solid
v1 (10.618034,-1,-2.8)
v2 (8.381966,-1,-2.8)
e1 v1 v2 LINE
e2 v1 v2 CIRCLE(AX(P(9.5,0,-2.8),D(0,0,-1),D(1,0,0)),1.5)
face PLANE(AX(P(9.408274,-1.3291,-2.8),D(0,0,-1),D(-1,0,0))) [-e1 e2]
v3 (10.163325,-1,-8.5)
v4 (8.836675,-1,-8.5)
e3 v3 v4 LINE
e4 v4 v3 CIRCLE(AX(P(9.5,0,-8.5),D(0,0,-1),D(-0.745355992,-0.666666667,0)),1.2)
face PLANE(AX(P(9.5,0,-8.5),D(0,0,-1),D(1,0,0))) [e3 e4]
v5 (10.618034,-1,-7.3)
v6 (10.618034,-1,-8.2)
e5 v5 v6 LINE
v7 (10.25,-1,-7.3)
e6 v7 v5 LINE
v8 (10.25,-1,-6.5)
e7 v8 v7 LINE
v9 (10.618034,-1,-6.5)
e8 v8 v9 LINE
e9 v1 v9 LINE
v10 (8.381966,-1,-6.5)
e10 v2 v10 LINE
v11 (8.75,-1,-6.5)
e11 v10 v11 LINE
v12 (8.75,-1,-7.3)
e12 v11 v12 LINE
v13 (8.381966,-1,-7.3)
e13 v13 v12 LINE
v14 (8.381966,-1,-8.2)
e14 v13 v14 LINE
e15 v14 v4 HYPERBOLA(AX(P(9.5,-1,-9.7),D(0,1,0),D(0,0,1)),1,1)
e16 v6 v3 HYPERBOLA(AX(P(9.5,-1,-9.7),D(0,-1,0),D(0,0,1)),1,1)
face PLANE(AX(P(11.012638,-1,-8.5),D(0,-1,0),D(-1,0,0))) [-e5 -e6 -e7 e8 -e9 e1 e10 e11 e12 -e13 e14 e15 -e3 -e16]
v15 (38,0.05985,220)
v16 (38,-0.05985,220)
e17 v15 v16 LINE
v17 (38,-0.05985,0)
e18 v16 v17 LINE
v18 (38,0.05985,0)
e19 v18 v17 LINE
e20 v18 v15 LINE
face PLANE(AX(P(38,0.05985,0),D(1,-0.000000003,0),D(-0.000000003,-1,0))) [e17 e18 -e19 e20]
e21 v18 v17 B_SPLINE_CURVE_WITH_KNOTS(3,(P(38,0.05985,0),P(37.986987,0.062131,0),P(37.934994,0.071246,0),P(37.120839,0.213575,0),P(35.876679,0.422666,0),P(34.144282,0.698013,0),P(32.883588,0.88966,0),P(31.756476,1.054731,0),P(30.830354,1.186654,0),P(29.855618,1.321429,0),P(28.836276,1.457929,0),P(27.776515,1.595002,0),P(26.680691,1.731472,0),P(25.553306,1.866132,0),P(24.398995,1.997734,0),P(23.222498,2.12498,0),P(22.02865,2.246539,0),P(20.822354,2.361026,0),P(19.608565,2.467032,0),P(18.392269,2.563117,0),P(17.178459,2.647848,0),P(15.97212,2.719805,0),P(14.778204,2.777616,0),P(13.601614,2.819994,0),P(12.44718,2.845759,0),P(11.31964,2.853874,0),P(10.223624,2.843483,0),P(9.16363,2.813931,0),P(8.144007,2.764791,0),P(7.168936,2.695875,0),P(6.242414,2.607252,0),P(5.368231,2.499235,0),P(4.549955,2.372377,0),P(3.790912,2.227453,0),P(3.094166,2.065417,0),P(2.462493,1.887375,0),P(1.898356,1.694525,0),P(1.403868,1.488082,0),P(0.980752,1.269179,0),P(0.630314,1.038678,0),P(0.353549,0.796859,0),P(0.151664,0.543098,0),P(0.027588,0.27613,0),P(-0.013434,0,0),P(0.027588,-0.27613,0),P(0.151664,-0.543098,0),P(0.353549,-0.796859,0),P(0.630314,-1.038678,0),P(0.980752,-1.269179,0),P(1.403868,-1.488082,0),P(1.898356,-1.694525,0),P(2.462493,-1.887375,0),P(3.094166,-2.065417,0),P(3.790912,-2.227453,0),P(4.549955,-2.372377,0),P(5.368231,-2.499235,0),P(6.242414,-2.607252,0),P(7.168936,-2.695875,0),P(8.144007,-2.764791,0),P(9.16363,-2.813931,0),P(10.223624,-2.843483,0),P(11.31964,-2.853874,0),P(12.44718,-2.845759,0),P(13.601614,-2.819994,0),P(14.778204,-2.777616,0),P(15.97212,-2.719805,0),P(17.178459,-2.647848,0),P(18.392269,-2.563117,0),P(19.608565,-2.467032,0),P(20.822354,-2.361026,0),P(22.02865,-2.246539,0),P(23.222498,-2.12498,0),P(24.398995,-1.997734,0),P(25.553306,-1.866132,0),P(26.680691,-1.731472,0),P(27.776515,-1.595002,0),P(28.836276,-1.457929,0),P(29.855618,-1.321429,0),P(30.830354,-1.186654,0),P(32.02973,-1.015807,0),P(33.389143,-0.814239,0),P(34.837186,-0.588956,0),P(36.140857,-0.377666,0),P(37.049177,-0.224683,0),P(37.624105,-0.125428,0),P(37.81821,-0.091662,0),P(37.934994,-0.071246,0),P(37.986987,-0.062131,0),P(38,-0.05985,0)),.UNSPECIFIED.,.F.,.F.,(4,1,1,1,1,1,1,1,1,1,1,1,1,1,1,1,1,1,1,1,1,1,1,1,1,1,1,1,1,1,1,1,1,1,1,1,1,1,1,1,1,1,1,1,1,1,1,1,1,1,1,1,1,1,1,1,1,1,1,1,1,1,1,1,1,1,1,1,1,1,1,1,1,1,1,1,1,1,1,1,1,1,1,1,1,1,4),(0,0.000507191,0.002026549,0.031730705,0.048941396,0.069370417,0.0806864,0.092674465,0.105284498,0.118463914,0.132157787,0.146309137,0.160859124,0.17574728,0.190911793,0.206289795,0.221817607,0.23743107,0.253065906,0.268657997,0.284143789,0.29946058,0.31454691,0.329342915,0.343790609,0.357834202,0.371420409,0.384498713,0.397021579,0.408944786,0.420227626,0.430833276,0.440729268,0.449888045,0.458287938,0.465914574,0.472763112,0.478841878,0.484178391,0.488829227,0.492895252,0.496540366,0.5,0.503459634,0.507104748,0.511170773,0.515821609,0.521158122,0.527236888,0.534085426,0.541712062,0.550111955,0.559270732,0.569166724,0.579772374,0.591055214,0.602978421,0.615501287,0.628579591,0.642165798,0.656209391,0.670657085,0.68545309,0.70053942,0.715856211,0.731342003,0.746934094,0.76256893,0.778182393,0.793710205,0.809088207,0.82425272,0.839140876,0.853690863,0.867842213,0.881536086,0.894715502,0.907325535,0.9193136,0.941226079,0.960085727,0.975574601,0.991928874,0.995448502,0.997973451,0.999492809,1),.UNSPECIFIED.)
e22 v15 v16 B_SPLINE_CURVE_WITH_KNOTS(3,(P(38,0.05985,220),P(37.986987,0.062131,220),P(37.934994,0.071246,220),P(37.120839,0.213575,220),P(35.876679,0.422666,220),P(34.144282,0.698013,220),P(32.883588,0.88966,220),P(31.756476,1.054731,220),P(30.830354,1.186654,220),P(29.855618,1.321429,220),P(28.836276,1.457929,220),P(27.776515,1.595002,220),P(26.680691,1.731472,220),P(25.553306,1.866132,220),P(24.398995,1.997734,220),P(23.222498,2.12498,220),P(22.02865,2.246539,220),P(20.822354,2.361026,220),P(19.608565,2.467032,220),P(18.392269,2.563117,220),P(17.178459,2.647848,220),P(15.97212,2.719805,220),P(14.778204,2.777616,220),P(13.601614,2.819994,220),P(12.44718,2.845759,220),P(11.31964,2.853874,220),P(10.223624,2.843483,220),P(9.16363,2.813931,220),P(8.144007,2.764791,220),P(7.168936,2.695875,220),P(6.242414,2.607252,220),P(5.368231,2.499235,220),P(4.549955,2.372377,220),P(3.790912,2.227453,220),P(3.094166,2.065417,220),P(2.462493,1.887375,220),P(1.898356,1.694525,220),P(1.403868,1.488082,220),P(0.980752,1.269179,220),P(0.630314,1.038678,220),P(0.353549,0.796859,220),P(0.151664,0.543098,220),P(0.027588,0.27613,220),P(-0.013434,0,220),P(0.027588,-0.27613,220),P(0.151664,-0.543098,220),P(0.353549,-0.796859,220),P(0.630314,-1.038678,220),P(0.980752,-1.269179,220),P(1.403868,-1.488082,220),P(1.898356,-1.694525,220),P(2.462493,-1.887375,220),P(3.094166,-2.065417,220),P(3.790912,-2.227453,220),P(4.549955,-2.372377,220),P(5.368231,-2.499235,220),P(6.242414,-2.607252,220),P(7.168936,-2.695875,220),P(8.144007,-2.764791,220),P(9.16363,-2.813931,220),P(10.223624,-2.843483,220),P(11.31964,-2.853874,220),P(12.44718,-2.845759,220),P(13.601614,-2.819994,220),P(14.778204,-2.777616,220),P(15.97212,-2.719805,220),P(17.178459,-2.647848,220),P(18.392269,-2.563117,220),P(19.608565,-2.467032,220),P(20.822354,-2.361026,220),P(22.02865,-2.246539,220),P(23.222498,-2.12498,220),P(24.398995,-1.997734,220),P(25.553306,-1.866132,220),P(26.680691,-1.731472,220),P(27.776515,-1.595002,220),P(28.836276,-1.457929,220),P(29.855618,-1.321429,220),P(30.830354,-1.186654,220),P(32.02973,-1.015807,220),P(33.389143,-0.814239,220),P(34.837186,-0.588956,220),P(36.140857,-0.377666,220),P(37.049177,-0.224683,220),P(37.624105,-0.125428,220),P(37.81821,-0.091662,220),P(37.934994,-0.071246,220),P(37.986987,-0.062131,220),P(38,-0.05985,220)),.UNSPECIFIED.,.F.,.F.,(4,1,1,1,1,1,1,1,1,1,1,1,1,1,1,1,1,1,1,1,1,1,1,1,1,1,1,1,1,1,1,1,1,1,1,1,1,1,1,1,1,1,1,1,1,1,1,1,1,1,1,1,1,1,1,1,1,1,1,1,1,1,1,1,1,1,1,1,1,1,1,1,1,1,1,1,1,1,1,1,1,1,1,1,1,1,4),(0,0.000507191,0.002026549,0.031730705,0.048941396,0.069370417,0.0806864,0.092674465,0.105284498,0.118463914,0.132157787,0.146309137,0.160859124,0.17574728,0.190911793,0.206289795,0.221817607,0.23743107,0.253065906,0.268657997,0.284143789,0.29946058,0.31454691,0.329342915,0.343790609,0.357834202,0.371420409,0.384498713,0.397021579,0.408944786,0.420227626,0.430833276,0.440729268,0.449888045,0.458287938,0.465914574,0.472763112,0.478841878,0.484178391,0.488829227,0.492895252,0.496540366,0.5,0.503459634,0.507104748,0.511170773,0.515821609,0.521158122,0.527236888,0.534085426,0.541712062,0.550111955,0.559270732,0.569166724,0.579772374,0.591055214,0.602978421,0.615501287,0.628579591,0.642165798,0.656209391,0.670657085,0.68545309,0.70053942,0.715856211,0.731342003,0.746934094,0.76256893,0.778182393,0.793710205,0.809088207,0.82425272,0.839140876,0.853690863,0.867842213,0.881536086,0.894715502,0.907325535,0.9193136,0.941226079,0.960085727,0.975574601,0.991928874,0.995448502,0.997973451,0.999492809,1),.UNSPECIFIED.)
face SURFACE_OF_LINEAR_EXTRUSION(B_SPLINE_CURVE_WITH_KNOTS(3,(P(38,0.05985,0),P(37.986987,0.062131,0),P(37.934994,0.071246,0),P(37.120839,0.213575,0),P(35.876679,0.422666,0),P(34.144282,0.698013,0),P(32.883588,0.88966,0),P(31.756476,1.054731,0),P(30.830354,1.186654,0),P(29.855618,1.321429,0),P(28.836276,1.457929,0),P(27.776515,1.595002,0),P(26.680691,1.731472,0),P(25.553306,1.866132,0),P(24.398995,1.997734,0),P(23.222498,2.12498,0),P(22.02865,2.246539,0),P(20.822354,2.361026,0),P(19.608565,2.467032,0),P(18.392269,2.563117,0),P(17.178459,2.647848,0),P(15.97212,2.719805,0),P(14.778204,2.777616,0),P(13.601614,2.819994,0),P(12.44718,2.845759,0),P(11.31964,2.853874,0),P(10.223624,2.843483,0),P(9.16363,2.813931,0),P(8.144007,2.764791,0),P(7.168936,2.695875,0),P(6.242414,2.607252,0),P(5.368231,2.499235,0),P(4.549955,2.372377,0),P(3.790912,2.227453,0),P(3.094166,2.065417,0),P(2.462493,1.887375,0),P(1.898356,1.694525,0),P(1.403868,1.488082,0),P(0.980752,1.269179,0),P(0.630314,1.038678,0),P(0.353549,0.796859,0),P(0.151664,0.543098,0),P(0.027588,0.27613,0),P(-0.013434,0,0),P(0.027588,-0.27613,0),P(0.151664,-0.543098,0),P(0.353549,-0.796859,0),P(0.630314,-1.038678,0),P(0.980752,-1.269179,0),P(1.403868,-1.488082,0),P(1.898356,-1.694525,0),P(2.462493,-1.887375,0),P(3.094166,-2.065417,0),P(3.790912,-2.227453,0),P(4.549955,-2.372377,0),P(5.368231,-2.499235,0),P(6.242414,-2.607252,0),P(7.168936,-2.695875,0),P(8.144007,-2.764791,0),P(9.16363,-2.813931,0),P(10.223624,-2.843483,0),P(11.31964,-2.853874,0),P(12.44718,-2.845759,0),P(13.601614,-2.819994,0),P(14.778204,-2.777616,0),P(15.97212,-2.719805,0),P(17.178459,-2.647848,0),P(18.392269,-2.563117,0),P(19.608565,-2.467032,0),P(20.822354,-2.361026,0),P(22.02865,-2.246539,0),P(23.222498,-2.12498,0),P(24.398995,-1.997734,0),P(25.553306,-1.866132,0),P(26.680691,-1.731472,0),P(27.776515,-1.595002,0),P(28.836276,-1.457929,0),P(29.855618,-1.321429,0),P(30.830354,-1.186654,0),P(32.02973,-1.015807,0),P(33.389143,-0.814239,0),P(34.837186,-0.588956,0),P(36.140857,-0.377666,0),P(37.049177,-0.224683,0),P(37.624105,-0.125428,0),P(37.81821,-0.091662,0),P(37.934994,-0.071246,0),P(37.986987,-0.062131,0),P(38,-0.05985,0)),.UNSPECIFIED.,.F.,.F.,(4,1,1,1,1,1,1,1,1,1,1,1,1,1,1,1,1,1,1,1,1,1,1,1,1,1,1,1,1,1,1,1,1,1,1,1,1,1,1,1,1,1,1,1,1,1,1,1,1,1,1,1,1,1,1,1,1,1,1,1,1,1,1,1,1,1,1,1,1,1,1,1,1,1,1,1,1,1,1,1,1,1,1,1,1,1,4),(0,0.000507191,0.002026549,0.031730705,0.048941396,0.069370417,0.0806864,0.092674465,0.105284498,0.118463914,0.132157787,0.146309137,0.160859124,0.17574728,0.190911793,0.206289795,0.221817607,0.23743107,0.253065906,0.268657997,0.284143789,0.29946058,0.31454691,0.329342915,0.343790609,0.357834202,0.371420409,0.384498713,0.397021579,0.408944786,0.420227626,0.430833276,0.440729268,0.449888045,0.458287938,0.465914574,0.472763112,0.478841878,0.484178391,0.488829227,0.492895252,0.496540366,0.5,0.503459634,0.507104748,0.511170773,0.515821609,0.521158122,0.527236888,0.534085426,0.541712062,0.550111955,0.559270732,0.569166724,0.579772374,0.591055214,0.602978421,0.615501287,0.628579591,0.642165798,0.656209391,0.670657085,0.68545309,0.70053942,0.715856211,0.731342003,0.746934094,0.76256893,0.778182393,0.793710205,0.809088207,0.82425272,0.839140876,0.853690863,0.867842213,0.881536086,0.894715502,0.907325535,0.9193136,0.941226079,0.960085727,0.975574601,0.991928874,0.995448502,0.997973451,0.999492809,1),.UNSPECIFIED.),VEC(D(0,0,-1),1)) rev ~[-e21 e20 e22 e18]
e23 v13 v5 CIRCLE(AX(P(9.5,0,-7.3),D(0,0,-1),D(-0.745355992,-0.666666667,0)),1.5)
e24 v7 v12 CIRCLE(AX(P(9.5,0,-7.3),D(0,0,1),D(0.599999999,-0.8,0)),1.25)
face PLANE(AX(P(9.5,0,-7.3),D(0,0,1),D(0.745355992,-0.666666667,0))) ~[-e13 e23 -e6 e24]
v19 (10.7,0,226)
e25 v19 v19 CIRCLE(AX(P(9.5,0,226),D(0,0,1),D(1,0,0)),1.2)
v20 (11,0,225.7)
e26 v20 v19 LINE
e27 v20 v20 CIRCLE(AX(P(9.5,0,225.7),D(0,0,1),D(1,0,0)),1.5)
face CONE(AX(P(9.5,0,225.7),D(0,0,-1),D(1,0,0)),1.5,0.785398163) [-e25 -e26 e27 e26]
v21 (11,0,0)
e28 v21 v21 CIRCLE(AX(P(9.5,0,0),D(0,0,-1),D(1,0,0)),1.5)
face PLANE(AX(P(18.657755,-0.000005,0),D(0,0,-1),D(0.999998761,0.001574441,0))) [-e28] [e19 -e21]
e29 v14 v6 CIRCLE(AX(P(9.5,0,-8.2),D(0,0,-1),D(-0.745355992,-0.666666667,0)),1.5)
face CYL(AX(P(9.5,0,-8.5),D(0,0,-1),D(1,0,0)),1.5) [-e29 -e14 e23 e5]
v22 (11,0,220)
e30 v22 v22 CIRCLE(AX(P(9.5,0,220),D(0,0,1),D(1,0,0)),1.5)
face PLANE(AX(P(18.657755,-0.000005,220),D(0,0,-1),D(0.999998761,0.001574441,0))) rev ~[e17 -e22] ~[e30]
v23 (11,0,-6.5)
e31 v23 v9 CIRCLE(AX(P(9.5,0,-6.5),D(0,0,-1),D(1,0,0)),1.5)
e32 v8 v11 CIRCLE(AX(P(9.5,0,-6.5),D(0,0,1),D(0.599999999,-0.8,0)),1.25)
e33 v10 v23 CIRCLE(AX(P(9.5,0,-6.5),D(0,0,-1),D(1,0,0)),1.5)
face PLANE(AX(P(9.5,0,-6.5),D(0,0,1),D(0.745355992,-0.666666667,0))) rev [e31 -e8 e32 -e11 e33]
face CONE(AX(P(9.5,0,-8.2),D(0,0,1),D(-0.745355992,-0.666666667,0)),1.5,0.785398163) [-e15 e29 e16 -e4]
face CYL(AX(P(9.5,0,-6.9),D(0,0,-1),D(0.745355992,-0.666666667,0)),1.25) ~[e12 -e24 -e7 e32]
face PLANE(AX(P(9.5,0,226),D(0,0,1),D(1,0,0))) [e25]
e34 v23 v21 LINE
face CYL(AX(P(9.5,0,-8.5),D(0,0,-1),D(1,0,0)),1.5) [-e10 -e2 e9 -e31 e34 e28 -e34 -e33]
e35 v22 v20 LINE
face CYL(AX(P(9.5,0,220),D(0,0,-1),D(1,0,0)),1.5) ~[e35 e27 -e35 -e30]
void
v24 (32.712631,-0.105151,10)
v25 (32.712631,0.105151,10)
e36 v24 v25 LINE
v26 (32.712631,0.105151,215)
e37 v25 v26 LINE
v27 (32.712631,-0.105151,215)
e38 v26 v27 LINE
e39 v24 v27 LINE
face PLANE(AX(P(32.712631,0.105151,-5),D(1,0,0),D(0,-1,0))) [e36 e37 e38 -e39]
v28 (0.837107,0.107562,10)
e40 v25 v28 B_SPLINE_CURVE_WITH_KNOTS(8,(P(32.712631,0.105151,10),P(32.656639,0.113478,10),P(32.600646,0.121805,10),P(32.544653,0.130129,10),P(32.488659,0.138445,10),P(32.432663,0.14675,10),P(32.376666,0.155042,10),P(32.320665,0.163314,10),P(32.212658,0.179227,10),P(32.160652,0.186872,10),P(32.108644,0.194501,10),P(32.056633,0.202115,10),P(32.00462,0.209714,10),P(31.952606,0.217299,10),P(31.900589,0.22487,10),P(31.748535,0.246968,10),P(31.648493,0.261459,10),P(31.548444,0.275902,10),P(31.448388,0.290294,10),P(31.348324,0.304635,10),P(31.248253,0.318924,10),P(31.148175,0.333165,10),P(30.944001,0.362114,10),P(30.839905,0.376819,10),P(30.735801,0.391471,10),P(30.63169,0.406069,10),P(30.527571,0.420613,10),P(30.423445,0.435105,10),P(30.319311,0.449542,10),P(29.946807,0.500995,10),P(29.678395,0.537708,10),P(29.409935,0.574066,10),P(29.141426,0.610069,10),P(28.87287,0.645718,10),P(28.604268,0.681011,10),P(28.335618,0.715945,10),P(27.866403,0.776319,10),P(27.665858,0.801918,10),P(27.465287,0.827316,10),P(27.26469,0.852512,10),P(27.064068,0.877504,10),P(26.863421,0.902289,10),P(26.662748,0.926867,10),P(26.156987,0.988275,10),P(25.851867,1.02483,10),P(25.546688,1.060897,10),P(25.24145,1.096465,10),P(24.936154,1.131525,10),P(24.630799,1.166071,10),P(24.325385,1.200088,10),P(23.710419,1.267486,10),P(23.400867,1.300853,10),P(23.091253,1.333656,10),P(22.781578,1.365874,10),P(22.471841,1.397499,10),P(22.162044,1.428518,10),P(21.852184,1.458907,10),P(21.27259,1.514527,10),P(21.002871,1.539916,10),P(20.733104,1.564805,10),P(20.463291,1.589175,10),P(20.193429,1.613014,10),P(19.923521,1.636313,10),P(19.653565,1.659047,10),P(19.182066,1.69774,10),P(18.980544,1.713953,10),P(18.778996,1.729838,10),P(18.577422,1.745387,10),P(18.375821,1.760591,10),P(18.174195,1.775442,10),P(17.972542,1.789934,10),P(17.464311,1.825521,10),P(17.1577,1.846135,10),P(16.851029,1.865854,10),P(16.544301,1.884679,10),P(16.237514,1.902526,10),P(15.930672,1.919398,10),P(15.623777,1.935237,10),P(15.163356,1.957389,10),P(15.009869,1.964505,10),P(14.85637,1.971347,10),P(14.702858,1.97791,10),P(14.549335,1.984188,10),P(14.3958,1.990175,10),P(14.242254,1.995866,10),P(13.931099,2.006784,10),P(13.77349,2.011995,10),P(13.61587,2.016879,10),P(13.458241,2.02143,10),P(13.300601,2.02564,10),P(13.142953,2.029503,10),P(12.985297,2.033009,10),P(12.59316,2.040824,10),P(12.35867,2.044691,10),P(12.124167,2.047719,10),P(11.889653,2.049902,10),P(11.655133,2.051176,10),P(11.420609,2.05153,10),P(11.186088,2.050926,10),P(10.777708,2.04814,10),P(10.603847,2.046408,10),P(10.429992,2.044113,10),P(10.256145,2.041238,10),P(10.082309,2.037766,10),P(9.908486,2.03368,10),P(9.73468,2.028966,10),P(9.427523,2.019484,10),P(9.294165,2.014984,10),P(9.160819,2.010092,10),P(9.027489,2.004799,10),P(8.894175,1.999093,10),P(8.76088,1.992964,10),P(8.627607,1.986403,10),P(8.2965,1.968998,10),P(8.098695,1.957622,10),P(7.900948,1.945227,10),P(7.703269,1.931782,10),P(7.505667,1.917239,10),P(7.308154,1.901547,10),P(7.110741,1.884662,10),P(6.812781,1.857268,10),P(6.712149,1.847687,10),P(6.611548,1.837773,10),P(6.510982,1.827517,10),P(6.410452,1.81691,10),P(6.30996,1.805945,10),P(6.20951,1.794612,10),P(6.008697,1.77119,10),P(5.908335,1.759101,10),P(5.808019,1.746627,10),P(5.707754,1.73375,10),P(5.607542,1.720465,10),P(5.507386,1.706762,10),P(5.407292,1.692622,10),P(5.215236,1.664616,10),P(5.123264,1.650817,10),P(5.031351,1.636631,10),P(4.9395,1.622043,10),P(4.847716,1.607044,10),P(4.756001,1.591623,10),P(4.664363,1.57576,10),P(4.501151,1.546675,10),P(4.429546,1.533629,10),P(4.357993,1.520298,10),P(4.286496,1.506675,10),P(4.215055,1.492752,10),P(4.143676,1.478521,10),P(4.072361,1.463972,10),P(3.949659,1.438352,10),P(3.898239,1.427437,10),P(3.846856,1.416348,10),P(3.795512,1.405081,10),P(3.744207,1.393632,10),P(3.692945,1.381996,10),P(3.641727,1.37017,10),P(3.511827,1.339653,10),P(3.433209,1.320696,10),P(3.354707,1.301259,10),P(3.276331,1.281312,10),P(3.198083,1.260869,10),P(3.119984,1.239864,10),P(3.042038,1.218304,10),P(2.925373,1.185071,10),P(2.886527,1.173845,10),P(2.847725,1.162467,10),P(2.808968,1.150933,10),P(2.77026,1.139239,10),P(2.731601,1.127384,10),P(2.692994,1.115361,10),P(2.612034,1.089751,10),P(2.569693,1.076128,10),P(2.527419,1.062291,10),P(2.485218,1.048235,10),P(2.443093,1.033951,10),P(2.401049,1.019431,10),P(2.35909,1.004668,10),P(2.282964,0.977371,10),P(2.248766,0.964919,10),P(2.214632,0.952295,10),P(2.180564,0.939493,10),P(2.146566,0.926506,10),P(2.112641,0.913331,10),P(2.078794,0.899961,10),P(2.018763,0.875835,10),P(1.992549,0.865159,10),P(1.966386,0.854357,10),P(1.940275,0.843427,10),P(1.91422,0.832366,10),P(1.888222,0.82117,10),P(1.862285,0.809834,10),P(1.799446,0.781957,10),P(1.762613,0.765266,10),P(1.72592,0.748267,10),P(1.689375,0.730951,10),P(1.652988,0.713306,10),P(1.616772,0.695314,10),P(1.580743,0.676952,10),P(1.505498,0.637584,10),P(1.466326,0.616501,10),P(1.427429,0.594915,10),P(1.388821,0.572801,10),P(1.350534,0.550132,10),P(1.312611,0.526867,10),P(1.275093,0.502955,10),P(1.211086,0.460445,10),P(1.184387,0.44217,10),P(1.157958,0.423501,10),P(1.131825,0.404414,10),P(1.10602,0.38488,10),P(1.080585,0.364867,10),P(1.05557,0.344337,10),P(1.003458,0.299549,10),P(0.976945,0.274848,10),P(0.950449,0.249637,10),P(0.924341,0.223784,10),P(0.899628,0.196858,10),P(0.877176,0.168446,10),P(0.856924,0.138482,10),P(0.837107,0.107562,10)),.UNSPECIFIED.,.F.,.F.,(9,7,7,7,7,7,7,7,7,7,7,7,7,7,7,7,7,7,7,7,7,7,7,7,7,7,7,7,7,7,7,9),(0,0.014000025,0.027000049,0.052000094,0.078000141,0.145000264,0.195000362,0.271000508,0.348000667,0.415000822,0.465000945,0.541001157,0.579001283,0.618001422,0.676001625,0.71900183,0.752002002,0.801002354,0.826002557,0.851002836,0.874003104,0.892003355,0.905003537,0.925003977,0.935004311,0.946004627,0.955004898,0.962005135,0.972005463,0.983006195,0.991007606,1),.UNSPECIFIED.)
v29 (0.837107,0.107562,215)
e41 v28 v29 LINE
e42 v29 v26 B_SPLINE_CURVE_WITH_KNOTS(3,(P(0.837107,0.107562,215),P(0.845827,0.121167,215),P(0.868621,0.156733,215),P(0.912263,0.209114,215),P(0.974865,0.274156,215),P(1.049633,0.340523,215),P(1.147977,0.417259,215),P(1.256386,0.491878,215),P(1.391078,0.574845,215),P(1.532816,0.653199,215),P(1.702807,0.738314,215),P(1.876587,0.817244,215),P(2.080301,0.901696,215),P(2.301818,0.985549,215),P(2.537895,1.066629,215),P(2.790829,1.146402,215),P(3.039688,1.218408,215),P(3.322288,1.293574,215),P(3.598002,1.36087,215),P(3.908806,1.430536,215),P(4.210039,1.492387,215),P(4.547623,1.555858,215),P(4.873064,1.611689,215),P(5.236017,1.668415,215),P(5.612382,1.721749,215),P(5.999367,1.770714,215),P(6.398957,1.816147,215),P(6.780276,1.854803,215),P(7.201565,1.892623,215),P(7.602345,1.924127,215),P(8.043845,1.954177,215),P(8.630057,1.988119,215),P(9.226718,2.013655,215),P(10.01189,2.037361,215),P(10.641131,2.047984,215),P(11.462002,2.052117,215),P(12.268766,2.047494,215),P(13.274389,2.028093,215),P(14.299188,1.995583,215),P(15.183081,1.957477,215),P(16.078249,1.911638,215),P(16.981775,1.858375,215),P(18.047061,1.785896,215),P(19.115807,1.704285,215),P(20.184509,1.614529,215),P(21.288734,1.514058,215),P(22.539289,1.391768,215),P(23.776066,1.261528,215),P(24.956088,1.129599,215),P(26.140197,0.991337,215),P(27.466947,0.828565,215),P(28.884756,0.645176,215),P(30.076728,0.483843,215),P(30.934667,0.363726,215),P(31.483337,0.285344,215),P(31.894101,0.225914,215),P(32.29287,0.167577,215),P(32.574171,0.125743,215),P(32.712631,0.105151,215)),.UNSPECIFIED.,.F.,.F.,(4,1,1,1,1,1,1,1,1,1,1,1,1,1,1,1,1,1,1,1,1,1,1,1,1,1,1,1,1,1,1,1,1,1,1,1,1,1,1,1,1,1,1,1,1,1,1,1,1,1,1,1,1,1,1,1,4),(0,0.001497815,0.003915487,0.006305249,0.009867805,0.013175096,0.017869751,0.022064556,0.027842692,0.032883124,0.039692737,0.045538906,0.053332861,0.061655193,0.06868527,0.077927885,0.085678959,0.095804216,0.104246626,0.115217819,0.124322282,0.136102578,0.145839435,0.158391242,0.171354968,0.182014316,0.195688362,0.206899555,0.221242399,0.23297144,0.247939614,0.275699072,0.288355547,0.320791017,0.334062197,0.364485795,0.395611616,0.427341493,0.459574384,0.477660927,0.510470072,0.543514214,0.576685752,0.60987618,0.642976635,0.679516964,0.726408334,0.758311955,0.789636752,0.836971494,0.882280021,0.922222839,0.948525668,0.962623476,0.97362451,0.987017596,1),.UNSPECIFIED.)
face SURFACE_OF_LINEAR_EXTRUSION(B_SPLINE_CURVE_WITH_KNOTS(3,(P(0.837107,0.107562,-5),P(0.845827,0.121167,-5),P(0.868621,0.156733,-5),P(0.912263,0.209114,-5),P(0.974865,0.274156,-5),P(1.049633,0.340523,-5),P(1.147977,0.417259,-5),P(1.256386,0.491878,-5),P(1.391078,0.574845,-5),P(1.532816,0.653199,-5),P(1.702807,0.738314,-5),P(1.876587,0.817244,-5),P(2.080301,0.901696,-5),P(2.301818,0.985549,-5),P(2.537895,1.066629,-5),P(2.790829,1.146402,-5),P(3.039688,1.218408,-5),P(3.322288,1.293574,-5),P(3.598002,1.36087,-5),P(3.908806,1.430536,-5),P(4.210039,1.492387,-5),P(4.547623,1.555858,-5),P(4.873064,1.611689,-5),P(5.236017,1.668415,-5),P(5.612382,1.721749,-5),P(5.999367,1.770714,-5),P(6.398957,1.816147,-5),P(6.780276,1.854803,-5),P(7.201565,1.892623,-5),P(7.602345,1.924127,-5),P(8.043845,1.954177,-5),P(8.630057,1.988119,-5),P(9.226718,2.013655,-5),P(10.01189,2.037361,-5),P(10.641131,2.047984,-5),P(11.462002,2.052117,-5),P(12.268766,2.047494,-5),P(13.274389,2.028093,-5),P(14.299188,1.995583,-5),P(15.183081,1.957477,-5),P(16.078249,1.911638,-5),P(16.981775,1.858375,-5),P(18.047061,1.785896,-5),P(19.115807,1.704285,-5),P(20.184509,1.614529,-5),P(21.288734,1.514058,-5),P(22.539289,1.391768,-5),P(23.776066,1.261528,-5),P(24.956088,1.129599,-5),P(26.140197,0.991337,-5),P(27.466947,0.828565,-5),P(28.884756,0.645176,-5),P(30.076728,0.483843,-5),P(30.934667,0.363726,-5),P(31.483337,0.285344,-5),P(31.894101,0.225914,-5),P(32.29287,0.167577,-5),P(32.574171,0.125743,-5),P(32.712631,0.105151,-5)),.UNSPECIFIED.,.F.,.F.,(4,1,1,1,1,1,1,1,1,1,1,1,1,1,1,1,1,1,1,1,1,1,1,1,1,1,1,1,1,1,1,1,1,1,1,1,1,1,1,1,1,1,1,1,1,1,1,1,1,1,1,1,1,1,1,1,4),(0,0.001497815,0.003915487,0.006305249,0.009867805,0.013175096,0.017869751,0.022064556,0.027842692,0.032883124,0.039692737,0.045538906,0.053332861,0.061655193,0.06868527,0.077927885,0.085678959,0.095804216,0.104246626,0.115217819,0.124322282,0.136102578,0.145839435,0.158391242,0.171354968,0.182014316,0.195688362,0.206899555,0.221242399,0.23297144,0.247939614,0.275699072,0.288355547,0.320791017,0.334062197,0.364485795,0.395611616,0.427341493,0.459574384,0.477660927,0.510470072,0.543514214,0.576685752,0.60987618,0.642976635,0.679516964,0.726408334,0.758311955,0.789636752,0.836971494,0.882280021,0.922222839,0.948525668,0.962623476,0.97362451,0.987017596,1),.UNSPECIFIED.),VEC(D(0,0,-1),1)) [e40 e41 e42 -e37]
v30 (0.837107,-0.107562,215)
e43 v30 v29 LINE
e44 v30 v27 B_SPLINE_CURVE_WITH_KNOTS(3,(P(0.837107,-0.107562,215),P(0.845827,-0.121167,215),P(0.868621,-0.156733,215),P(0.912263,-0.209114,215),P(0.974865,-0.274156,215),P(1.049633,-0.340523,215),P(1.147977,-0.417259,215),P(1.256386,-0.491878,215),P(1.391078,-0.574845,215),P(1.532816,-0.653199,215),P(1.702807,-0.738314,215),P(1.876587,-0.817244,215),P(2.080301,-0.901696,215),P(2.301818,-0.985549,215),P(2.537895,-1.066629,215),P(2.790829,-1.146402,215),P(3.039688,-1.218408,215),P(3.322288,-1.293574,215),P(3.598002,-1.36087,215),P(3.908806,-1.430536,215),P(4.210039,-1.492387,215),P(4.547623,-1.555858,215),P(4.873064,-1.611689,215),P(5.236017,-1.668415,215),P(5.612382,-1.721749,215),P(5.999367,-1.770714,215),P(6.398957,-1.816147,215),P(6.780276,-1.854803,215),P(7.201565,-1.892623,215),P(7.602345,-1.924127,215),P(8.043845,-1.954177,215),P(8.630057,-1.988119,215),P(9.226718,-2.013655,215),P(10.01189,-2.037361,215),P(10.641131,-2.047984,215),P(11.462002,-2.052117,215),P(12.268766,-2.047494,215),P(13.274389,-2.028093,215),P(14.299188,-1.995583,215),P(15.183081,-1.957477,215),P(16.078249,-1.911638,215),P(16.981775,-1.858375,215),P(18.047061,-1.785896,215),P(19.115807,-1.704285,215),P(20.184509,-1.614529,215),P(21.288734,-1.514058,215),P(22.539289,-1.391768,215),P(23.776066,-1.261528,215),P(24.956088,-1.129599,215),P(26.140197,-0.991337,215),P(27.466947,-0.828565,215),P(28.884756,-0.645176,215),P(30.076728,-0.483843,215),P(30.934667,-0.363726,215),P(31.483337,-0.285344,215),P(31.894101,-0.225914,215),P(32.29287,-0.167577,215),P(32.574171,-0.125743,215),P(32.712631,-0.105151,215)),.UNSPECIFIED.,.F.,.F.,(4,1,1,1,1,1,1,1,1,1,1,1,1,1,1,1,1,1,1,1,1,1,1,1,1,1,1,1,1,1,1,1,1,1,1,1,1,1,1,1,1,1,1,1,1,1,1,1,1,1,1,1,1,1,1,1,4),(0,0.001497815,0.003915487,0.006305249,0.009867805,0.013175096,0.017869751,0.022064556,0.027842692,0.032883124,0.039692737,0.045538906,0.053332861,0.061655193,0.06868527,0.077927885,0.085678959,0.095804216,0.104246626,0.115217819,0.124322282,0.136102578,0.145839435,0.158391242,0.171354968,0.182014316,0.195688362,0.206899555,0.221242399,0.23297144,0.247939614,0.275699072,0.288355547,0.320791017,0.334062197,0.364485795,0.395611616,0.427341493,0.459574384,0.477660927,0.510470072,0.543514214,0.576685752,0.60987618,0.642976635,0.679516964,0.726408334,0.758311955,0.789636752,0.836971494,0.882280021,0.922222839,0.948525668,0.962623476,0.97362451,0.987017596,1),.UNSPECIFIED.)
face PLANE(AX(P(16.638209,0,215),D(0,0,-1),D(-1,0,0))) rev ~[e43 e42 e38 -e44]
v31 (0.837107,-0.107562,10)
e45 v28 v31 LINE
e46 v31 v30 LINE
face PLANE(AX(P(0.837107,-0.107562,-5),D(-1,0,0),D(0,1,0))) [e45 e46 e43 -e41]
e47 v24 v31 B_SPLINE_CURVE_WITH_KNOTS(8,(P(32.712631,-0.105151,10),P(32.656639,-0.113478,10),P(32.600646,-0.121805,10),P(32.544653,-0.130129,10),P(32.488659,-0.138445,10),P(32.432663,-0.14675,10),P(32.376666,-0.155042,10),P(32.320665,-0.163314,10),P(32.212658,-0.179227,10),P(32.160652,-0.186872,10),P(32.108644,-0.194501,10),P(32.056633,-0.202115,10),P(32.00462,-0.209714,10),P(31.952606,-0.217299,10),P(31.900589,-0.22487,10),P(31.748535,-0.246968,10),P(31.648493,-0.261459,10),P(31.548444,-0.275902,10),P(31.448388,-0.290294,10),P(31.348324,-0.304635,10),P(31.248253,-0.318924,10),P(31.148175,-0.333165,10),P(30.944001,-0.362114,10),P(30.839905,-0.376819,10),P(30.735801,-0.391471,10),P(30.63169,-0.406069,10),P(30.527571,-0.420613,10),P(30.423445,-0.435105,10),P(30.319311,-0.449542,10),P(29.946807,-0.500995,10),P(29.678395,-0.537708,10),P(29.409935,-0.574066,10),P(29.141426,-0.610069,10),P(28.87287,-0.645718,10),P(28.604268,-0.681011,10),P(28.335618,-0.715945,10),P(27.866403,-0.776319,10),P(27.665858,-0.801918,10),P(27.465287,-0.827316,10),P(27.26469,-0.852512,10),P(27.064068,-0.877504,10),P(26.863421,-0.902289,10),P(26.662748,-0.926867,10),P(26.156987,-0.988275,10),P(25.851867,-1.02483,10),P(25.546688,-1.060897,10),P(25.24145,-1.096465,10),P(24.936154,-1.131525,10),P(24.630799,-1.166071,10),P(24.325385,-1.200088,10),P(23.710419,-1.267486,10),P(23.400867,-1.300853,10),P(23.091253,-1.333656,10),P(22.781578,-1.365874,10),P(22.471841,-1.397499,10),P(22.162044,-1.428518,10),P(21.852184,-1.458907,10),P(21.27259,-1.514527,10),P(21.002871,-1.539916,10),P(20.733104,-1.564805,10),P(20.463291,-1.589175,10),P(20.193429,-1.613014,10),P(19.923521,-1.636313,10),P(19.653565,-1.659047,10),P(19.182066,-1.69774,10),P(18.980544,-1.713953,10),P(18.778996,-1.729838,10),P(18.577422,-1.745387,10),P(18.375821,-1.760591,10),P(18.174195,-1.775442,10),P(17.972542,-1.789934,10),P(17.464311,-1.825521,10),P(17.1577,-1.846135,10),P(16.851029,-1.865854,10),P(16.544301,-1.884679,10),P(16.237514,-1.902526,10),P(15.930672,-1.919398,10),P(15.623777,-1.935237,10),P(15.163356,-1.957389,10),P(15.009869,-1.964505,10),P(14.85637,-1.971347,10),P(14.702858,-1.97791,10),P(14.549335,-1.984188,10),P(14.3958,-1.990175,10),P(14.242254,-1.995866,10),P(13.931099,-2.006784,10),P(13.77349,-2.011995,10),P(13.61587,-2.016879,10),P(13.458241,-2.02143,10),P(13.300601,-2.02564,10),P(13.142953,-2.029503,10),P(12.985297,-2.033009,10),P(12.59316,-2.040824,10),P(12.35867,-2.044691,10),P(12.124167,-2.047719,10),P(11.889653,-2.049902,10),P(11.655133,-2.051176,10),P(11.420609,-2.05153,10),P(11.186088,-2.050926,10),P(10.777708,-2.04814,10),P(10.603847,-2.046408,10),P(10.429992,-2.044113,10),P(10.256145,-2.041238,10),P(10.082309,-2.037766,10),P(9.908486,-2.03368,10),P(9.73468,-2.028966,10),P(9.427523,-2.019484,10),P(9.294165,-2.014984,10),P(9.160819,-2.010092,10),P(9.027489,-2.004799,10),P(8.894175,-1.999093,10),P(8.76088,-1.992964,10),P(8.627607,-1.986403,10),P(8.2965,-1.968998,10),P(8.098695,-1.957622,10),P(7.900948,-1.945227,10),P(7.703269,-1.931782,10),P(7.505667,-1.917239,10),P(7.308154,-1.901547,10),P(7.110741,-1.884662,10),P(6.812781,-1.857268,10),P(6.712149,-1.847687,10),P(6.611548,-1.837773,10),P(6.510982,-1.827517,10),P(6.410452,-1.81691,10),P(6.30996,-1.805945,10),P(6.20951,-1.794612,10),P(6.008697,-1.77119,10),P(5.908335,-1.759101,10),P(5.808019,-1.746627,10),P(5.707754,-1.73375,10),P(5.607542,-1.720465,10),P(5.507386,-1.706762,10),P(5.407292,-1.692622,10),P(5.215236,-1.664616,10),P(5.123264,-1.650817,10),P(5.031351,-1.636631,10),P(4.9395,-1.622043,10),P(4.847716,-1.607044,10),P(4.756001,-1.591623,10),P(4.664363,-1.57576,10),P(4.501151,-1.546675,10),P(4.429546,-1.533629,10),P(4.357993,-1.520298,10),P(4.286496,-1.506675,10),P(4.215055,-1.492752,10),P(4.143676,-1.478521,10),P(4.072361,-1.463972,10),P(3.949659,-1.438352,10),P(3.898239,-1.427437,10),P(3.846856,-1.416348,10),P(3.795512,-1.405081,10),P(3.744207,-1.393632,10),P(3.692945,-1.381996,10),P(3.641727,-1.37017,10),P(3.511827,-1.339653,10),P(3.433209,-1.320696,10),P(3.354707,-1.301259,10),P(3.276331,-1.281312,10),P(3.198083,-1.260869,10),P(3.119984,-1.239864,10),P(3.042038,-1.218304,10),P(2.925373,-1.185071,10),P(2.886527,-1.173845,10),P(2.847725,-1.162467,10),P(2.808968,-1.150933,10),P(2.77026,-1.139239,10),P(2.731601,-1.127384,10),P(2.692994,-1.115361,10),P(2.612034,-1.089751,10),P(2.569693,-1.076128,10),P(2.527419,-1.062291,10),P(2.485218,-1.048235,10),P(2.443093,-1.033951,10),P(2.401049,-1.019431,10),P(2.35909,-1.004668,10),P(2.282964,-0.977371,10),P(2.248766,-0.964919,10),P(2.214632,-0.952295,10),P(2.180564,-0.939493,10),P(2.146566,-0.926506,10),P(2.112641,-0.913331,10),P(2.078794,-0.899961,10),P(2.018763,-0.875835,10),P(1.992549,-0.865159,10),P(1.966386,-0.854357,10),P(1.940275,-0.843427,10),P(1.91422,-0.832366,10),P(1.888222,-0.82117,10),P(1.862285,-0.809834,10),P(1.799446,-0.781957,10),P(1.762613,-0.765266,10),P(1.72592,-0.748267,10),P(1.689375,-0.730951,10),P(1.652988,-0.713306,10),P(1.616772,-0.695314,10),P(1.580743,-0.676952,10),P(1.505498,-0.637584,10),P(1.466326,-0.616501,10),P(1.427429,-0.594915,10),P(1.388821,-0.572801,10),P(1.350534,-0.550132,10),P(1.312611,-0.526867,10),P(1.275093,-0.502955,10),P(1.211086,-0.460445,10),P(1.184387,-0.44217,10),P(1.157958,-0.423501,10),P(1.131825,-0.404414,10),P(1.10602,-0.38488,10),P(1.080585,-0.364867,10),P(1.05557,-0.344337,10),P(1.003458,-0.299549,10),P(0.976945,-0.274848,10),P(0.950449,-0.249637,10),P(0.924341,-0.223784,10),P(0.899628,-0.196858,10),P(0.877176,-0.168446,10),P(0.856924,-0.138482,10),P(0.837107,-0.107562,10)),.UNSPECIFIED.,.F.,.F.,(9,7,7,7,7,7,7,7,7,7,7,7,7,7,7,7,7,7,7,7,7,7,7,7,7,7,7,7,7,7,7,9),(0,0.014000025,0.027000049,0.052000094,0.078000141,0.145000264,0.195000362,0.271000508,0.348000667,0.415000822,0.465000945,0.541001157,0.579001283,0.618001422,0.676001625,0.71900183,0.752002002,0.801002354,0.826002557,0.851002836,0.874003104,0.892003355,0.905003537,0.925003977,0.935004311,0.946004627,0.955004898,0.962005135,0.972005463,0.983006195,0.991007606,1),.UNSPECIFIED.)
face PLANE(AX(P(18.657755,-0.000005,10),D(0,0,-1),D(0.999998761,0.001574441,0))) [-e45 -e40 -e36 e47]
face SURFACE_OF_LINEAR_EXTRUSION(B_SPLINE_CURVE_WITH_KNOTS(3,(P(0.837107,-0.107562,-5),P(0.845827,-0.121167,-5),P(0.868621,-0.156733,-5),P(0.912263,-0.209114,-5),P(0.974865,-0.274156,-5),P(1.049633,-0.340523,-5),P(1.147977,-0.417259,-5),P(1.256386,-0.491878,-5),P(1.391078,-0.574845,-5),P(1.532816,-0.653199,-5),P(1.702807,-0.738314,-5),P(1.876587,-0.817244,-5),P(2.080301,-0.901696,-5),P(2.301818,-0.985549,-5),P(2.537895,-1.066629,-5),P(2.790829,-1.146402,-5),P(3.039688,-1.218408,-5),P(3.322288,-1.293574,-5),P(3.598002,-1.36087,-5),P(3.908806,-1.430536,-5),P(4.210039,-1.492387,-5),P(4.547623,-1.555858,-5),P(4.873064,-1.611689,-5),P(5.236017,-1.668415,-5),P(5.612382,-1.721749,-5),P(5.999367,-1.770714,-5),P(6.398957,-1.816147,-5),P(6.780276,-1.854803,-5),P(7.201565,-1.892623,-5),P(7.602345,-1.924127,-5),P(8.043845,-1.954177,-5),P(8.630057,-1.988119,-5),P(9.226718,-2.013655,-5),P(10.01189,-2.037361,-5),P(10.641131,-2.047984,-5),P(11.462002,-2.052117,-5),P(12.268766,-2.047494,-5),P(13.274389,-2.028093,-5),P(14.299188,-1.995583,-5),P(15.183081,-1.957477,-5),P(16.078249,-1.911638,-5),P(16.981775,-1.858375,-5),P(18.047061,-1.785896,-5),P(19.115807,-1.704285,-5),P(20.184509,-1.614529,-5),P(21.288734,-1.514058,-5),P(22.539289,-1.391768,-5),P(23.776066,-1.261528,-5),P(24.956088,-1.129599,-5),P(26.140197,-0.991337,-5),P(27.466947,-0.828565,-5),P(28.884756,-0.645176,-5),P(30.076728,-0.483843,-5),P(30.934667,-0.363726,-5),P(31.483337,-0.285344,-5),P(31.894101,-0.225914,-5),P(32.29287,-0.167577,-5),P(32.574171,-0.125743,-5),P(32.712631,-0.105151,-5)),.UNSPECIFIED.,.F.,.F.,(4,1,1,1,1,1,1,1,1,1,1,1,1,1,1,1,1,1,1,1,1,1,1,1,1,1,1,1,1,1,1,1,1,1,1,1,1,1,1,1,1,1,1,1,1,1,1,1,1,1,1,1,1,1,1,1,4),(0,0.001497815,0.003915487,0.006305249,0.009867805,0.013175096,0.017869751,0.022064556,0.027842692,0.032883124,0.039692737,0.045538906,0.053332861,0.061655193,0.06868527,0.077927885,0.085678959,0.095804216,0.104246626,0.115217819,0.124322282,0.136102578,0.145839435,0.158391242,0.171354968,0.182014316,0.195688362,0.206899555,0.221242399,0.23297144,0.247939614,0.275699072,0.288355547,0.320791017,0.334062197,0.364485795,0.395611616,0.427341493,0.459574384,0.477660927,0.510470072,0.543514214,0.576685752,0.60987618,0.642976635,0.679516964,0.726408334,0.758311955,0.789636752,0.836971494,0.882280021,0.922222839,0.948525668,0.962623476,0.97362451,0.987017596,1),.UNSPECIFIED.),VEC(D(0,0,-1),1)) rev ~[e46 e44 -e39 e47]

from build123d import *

# Parameters (mm, degrees)
BOSS_EXTRUDE1_DEPTH = 220
CUT_EXTRUDE4_START  = 5
CUT_EXTRUDE4_DEPTH  = 220
SKETCH7_R           = 1.5
BOSS_EXTRUDE3_DEPTH = 6
CHAMFER1_SIZE       = 0.3
BOSS_EXTRUDE4_DEPTH = 10
BOSS_EXTRUDE5_START = 8.5
SKETCH8_R           = 1.5
BOSS_EXTRUDE5_DEPTH = 8.5
SKETCH9_W           = 3.208728651
SKETCH9_H           = 0.658200749
CUT_EXTRUDE5_DEPTH  = 5.7
SKETCH10_W          = 0.8
SKETCH10_H          = 0.8
CHAMFER2_SIZE       = 0.3


with BuildPart() as part:
    # 3DSketch1 → Boss-Extrude1 (new body)
    with BuildSketch(Plane(origin=(38, 0.05985, 0), x_dir=(-0.9999987605662982, -0.0015744414461987257, 0), z_dir=(0, 0, 1))):
        with BuildLine():
            Line((0, 0), (0.000188461, 0.119699852))
            add(Edge.make_bspline(
                [(0, 0), (0.013008969, -0.002301665), (0.064987996, -0.011498265), (0.878918073, -0.155109339), (2.122747351, -0.366158609), (3.854708335, -0.64423331), (5.115099042, -0.837864444), (6.241949789, -1.004709724), (7.167863067, -1.138091002), (8.142385133, -1.274400759), (9.161511532, -1.412504699), (10.221055455, -1.551245985), (11.316663463, -1.689441985), (12.443834406, -1.825876781), (13.597937358, -1.95929579), (14.774232361, -2.088393861), (15.967887624, -2.211832712), (17.174001845, -2.328218569), (18.38762198, -2.43613523), (19.603765591, -2.534135408), (20.817440615, -2.620776748), (22.023665083, -2.694633015), (23.217488253, -2.754324117), (24.394010116, -2.798554482), (25.548402467, -2.826137225), (26.675927863, -2.836026975), (27.771958945, -2.827361992), (28.831998439, -2.799478733), (29.851697596, -2.751943983), (30.826875272, -2.684563052), (31.753535953, -2.597399236), (32.627887979, -2.49075866), (33.446362422, -2.365189641), (34.205632559, -2.221460498), (34.902633245, -2.060521235), (35.534585719, -1.883474011), (36.099025947, -1.691512743), (36.593837882, -1.485848884), (37.01729848, -1.267612615), (37.368098982, -1.037662977), (37.645244109, -0.796280496), (37.847528312, -0.542837587), (37.972024421, -0.276065099), (38.013481, 0), (37.972893923, 0.276194273), (37.849238465, 0.543357461), (37.647753325, 0.797436081), (37.371369657, 1.039690062), (37.021294977, 1.270743188), (36.598523679, 1.490311802), (36.104361807, 1.697532744), (35.540528841, 1.891270415), (34.909136999, 2.070306703), (34.212646547, 2.233439939), (33.453832761, 2.379559219), (32.635757777, 2.507704892), (31.761745884, 2.617098168), (30.835364265, 2.707179494), (29.860403599, 2.777630808), (28.840859178, 2.828376231), (27.78091274, 2.859597288), (26.684914377, 2.871713498), (25.557363429, 2.865374238), (24.402889947, 2.841426673), (23.226234641, 2.800901253), (22.03222943, 2.744969652), (20.825778377, 2.674912005), (19.611836547, 2.59209281), (18.395390375, 2.497922608), (17.18143644, 2.393828024), (15.974961714, 2.281240652), (14.780923674, 2.161561089), (13.604227989, 2.036167669), (12.449710638, 1.906383452), (11.322115667, 1.773498657), (10.226077928, 1.638753279), (9.166102378, 1.503349057), (8.14654616, 1.368454907), (7.171599702, 1.235214478), (5.971956559, 1.066255579), (4.61222699, 0.866828491), (3.163831824, 0.64382584), (1.859829898, 0.434588056), (0.95126956, 0.283035586), (0.376186701, 0.18468592), (0.182027936, 0.151225462), (0.065212341, 0.13099342), (0.013204613, 0.121960541), (0.000188461, 0.119699852)],
                knots=[0, 0, 0, 0, 0.000507191, 0.002026549, 0.031730705, 0.048941396, 0.069370417, 0.0806864, 0.092674465, 0.105284498, 0.118463914, 0.132157787, 0.146309137, 0.160859124, 0.17574728, 0.190911793, 0.206289795, 0.221817607, 0.23743107, 0.253065906, 0.268657997, 0.284143789, 0.29946058, 0.31454691, 0.329342915, 0.343790609, 0.357834202, 0.371420409, 0.384498713, 0.397021579, 0.408944786, 0.420227626, 0.430833276, 0.440729268, 0.449888045, 0.458287938, 0.465914574, 0.472763112, 0.478841878, 0.484178391, 0.488829227, 0.492895252, 0.496540366, 0.5, 0.503459634, 0.507104748, 0.511170773, 0.515821609, 0.521158122, 0.527236888, 0.534085426, 0.541712062, 0.550111955, 0.559270732, 0.569166724, 0.579772374, 0.591055214, 0.602978421, 0.615501287, 0.628579591, 0.642165798, 0.656209391, 0.670657085, 0.68545309, 0.70053942, 0.715856211, 0.731342003, 0.746934094, 0.76256893, 0.778182393, 0.793710205, 0.809088207, 0.82425272, 0.839140876, 0.853690863, 0.867842213, 0.881536086, 0.894715502, 0.907325535, 0.9193136, 0.941226079, 0.960085727, 0.975574601, 0.991928874, 0.995448502, 0.997973451, 0.999492809, 1, 1, 1, 1], degree=3))
        make_face()
    extrude(amount=BOSS_EXTRUDE1_DEPTH)

    # Sketch5 → Cut-Extrude4 (cut)
    with BuildSketch(Plane(origin=(0, 0, 0), x_dir=(-1, 0, 0), z_dir=(0, 0, -1)).offset(CUT_EXTRUDE4_START)):
        with BuildLine():
            Line((-32.712631, 0.105151), (-32.712631, -0.105151))
            add(Edge.make_bspline(
                [(-0.837107, -0.107562), (-0.845826584, -0.12116719), (-0.868620743, -0.156732975), (-0.912262573, -0.209113541), (-0.974864537, -0.274155604), (-1.049632752, -0.340523117), (-1.147976563, -0.417259366), (-1.256385762, -0.491877972), (-1.391077702, -0.574845049), (-1.532816156, -0.653199432), (-1.702806728, -0.738314449), (-1.876587374, -0.817243723), (-2.080301477, -0.901695942), (-2.301817557, -0.985549047), (-2.537895145, -1.066628844), (-2.790829072, -1.146401899), (-3.039688197, -1.218408436), (-3.322288337, -1.293574332), (-3.598002071, -1.360869976), (-3.908805822, -1.430536274), (-4.210039421, -1.492386934), (-4.547622538, -1.555857983), (-4.87306445, -1.611688556), (-5.236016767, -1.668415162), (-5.612382218, -1.721749075), (-5.999367246, -1.770714437), (-6.398957317, -1.816147096), (-6.780275546, -1.854802911), (-7.201565409, -1.892623105), (-7.60234547, -1.924127385), (-8.043844964, -1.954176907), (-8.630056621, -1.988119175), (-9.226718403, -2.013654564), (-10.011889679, -2.037361235), (-10.641130768, -2.04798446), (-11.462002386, -2.052117113), (-12.268766275, -2.047493557), (-13.274388828, -2.028093119), (-14.299188374, -1.99558325), (-15.18308063, -1.95747684), (-16.0782489, -1.911637636), (-16.981774535, -1.858374829), (-18.047060577, -1.785895703), (-19.11580735, -1.704284672), (-20.184508831, -1.614529003), (-21.288734495, -1.514057804), (-22.539288612, -1.391767691), (-23.776066228, -1.261527655), (-24.956087957, -1.129598955), (-26.140197163, -0.99133707), (-27.466946913, -0.8285652), (-28.884756189, -0.6451755), (-30.076728075, -0.483842629), (-30.934667374, -0.363725788), (-31.483337288, -0.285344283), (-31.894100694, -0.22591429), (-32.292869896, -0.167577194), (-32.574170638, -0.125742602), (-32.712631, -0.105151)],
                knots=[0, 0, 0, 0, 0.001497815, 0.003915487, 0.006305249, 0.009867805, 0.013175096, 0.017869751, 0.022064556, 0.027842692, 0.032883124, 0.039692737, 0.045538906, 0.053332861, 0.061655193, 0.06868527, 0.077927885, 0.085678959, 0.095804216, 0.104246626, 0.115217819, 0.124322282, 0.136102578, 0.145839435, 0.158391242, 0.171354968, 0.182014316, 0.195688362, 0.206899555, 0.221242399, 0.23297144, 0.247939614, 0.275699072, 0.288355547, 0.320791017, 0.334062197, 0.364485795, 0.395611616, 0.427341493, 0.459574384, 0.477660927, 0.510470072, 0.543514214, 0.576685752, 0.60987618, 0.642976635, 0.679516964, 0.726408334, 0.758311955, 0.789636752, 0.836971494, 0.882280021, 0.922222839, 0.948525668, 0.962623476, 0.97362451, 0.987017596, 1, 1, 1, 1], degree=3))
            Line((-0.837107, -0.107562), (-0.837107, 0.107562))
            add(Edge.make_bspline(
                [(-0.837107, 0.107562), (-0.845826584, 0.12116719), (-0.868620743, 0.156732975), (-0.912262573, 0.209113541), (-0.974864537, 0.274155604), (-1.049632752, 0.340523117), (-1.147976563, 0.417259366), (-1.256385762, 0.491877972), (-1.391077702, 0.574845049), (-1.532816156, 0.653199432), (-1.702806728, 0.738314449), (-1.876587374, 0.817243723), (-2.080301477, 0.901695942), (-2.301817557, 0.985549047), (-2.537895145, 1.066628844), (-2.790829072, 1.146401899), (-3.039688197, 1.218408436), (-3.322288337, 1.293574332), (-3.598002071, 1.360869976), (-3.908805822, 1.430536274), (-4.210039421, 1.492386934), (-4.547622538, 1.555857983), (-4.87306445, 1.611688556), (-5.236016767, 1.668415162), (-5.612382218, 1.721749075), (-5.999367246, 1.770714437), (-6.398957317, 1.816147096), (-6.780275546, 1.854802911), (-7.201565409, 1.892623105), (-7.60234547, 1.924127385), (-8.043844964, 1.954176907), (-8.630056621, 1.988119175), (-9.226718403, 2.013654564), (-10.011889679, 2.037361235), (-10.641130768, 2.04798446), (-11.462002386, 2.052117113), (-12.268766275, 2.047493557), (-13.274388828, 2.028093119), (-14.299188374, 1.99558325), (-15.18308063, 1.95747684), (-16.0782489, 1.911637636), (-16.981774535, 1.858374829), (-18.047060577, 1.785895703), (-19.11580735, 1.704284672), (-20.184508831, 1.614529003), (-21.288734495, 1.514057804), (-22.539288612, 1.391767691), (-23.776066228, 1.261527655), (-24.956087957, 1.129598955), (-26.140197163, 0.99133707), (-27.466946913, 0.8285652), (-28.884756189, 0.6451755), (-30.076728075, 0.483842629), (-30.934667374, 0.363725788), (-31.483337288, 0.285344283), (-31.894100694, 0.22591429), (-32.292869896, 0.167577194), (-32.574170638, 0.125742602), (-32.712631, 0.105151)],
                knots=[0, 0, 0, 0, 0.001497815, 0.003915487, 0.006305249, 0.009867805, 0.013175096, 0.017869751, 0.022064556, 0.027842692, 0.032883124, 0.039692737, 0.045538906, 0.053332861, 0.061655193, 0.06868527, 0.077927885, 0.085678959, 0.095804216, 0.104246626, 0.115217819, 0.124322282, 0.136102578, 0.145839435, 0.158391242, 0.171354968, 0.182014316, 0.195688362, 0.206899555, 0.221242399, 0.23297144, 0.247939614, 0.275699072, 0.288355547, 0.320791017, 0.334062197, 0.364485795, 0.395611616, 0.427341493, 0.459574384, 0.477660927, 0.510470072, 0.543514214, 0.576685752, 0.60987618, 0.642976635, 0.679516964, 0.726408334, 0.758311955, 0.789636752, 0.836971494, 0.882280021, 0.922222839, 0.948525668, 0.962623476, 0.97362451, 0.987017596, 1, 1, 1, 1], degree=3))
        make_face()
    extrude(amount=-CUT_EXTRUDE4_DEPTH, mode=Mode.SUBTRACT)

    # Sketch7 → Boss-Extrude3 (add)
    with BuildSketch(Plane.XY.offset(220)):
        with Locations((9.5, 0)):
            Circle(SKETCH7_R)
    extrude(amount=BOSS_EXTRUDE3_DEPTH)

    # Chamfer1
    chamfer1_edges = [part.edges().sort_by_distance(p)[0] for p in [
        (8, 0, 226),
    ]]
    chamfer(chamfer1_edges, length=CHAMFER1_SIZE)

    # 3DSketch2 → Boss-Extrude4 (add)
    with BuildSketch(Plane(origin=(38, 0.05985, 0), x_dir=(-0.9999987605662982, -0.0015744414461987257, 0), z_dir=(0, 0, 1))):
        with BuildLine():
            Line((0, 0), (0.000188461, 0.119699852))
            add(Edge.make_bspline(
                [(0, 0), (0.013008969, -0.002301665), (0.064987996, -0.011498265), (0.878918073, -0.155109339), (2.122747351, -0.366158609), (3.854708335, -0.64423331), (5.115099042, -0.837864444), (6.241949789, -1.004709724), (7.167863067, -1.138091002), (8.142385133, -1.274400759), (9.161511532, -1.412504699), (10.221055455, -1.551245985), (11.316663463, -1.689441985), (12.443834406, -1.825876781), (13.597937358, -1.95929579), (14.774232361, -2.088393861), (15.967887624, -2.211832712), (17.174001845, -2.328218569), (18.38762198, -2.43613523), (19.603765591, -2.534135408), (20.817440615, -2.620776748), (22.023665083, -2.694633015), (23.217488253, -2.754324117), (24.394010116, -2.798554482), (25.548402467, -2.826137225), (26.675927863, -2.836026975), (27.771958945, -2.827361992), (28.831998439, -2.799478733), (29.851697596, -2.751943983), (30.826875272, -2.684563052), (31.753535953, -2.597399236), (32.627887979, -2.49075866), (33.446362422, -2.365189641), (34.205632559, -2.221460498), (34.902633245, -2.060521235), (35.534585719, -1.883474011), (36.099025947, -1.691512743), (36.593837882, -1.485848884), (37.01729848, -1.267612615), (37.368098982, -1.037662977), (37.645244109, -0.796280496), (37.847528312, -0.542837587), (37.972024421, -0.276065099), (38.013481, 0), (37.972893923, 0.276194273), (37.849238465, 0.543357461), (37.647753325, 0.797436081), (37.371369657, 1.039690062), (37.021294977, 1.270743188), (36.598523679, 1.490311802), (36.104361807, 1.697532744), (35.540528841, 1.891270415), (34.909136999, 2.070306703), (34.212646547, 2.233439939), (33.453832761, 2.379559219), (32.635757777, 2.507704892), (31.761745884, 2.617098168), (30.835364265, 2.707179494), (29.860403599, 2.777630808), (28.840859178, 2.828376231), (27.78091274, 2.859597288), (26.684914377, 2.871713498), (25.557363429, 2.865374238), (24.402889947, 2.841426673), (23.226234641, 2.800901253), (22.03222943, 2.744969652), (20.825778377, 2.674912005), (19.611836547, 2.59209281), (18.395390375, 2.497922608), (17.18143644, 2.393828024), (15.974961714, 2.281240652), (14.780923674, 2.161561089), (13.604227989, 2.036167669), (12.449710638, 1.906383452), (11.322115667, 1.773498657), (10.226077928, 1.638753279), (9.166102378, 1.503349057), (8.14654616, 1.368454907), (7.171599702, 1.235214478), (5.971956559, 1.066255579), (4.61222699, 0.866828491), (3.163831824, 0.64382584), (1.859829898, 0.434588056), (0.95126956, 0.283035586), (0.376186701, 0.18468592), (0.182027936, 0.151225462), (0.065212341, 0.13099342), (0.013204613, 0.121960541), (0.000188461, 0.119699852)],
                knots=[0, 0, 0, 0, 0.000507191, 0.002026549, 0.031730705, 0.048941396, 0.069370417, 0.0806864, 0.092674465, 0.105284498, 0.118463914, 0.132157787, 0.146309137, 0.160859124, 0.17574728, 0.190911793, 0.206289795, 0.221817607, 0.23743107, 0.253065906, 0.268657997, 0.284143789, 0.29946058, 0.31454691, 0.329342915, 0.343790609, 0.357834202, 0.371420409, 0.384498713, 0.397021579, 0.408944786, 0.420227626, 0.430833276, 0.440729268, 0.449888045, 0.458287938, 0.465914574, 0.472763112, 0.478841878, 0.484178391, 0.488829227, 0.492895252, 0.496540366, 0.5, 0.503459634, 0.507104748, 0.511170773, 0.515821609, 0.521158122, 0.527236888, 0.534085426, 0.541712062, 0.550111955, 0.559270732, 0.569166724, 0.579772374, 0.591055214, 0.602978421, 0.615501287, 0.628579591, 0.642165798, 0.656209391, 0.670657085, 0.68545309, 0.70053942, 0.715856211, 0.731342003, 0.746934094, 0.76256893, 0.778182393, 0.793710205, 0.809088207, 0.82425272, 0.839140876, 0.853690863, 0.867842213, 0.881536086, 0.894715502, 0.907325535, 0.9193136, 0.941226079, 0.960085727, 0.975574601, 0.991928874, 0.995448502, 0.997973451, 0.999492809, 1, 1, 1, 1], degree=3))
        make_face()
    extrude(amount=BOSS_EXTRUDE4_DEPTH)

    # Sketch8 → Boss-Extrude5 (add)
    with BuildSketch(Plane(origin=(0, 0, 0), x_dir=(-1, 0, 0), z_dir=(0, 0, -1)).offset(BOSS_EXTRUDE5_START)):
        with Locations(Location((-9.5, 0, 0), (0, 0, 180))):
            Circle(SKETCH8_R)
    extrude(amount=-BOSS_EXTRUDE5_DEPTH)

    # Sketch9 → Cut-Extrude5 (cut)
    with BuildSketch(Plane(origin=(0, 0, -8.5), x_dir=(-1, 0, 0), z_dir=(0, 0, -1))):
        with Locations((-9.40827369, -1.329100375)):
            Rectangle(SKETCH9_W, SKETCH9_H)
    extrude(amount=-CUT_EXTRUDE5_DEPTH, mode=Mode.SUBTRACT)

    # Sketch10 → Cut-Revolve1 (revolve, cut)
    with BuildSketch(Plane(origin=(0, 0, 0), x_dir=(1, 0, 0), z_dir=(0, 1, 0)), mode=Mode.PRIVATE) as cut_revolve1_sk:
        with Locations((11.15, 6.9)):
            Rectangle(SKETCH10_W, SKETCH10_H)
    revolve(cut_revolve1_sk.sketch.rotate(Axis((9.5, 0, -8.5), (0, 0, 1)), 318.189685104), axis=Axis((9.5, 0, -8.5), (0, 0, 1)), mode=Mode.SUBTRACT)

    # Chamfer2
    chamfer2_edges = [part.edges().sort_by_distance(p)[0] for p in [
        (9.5, 1.5, -8.5),
    ]]
    chamfer(chamfer2_edges, length=CHAMFER2_SIZE)


solid = part.part
